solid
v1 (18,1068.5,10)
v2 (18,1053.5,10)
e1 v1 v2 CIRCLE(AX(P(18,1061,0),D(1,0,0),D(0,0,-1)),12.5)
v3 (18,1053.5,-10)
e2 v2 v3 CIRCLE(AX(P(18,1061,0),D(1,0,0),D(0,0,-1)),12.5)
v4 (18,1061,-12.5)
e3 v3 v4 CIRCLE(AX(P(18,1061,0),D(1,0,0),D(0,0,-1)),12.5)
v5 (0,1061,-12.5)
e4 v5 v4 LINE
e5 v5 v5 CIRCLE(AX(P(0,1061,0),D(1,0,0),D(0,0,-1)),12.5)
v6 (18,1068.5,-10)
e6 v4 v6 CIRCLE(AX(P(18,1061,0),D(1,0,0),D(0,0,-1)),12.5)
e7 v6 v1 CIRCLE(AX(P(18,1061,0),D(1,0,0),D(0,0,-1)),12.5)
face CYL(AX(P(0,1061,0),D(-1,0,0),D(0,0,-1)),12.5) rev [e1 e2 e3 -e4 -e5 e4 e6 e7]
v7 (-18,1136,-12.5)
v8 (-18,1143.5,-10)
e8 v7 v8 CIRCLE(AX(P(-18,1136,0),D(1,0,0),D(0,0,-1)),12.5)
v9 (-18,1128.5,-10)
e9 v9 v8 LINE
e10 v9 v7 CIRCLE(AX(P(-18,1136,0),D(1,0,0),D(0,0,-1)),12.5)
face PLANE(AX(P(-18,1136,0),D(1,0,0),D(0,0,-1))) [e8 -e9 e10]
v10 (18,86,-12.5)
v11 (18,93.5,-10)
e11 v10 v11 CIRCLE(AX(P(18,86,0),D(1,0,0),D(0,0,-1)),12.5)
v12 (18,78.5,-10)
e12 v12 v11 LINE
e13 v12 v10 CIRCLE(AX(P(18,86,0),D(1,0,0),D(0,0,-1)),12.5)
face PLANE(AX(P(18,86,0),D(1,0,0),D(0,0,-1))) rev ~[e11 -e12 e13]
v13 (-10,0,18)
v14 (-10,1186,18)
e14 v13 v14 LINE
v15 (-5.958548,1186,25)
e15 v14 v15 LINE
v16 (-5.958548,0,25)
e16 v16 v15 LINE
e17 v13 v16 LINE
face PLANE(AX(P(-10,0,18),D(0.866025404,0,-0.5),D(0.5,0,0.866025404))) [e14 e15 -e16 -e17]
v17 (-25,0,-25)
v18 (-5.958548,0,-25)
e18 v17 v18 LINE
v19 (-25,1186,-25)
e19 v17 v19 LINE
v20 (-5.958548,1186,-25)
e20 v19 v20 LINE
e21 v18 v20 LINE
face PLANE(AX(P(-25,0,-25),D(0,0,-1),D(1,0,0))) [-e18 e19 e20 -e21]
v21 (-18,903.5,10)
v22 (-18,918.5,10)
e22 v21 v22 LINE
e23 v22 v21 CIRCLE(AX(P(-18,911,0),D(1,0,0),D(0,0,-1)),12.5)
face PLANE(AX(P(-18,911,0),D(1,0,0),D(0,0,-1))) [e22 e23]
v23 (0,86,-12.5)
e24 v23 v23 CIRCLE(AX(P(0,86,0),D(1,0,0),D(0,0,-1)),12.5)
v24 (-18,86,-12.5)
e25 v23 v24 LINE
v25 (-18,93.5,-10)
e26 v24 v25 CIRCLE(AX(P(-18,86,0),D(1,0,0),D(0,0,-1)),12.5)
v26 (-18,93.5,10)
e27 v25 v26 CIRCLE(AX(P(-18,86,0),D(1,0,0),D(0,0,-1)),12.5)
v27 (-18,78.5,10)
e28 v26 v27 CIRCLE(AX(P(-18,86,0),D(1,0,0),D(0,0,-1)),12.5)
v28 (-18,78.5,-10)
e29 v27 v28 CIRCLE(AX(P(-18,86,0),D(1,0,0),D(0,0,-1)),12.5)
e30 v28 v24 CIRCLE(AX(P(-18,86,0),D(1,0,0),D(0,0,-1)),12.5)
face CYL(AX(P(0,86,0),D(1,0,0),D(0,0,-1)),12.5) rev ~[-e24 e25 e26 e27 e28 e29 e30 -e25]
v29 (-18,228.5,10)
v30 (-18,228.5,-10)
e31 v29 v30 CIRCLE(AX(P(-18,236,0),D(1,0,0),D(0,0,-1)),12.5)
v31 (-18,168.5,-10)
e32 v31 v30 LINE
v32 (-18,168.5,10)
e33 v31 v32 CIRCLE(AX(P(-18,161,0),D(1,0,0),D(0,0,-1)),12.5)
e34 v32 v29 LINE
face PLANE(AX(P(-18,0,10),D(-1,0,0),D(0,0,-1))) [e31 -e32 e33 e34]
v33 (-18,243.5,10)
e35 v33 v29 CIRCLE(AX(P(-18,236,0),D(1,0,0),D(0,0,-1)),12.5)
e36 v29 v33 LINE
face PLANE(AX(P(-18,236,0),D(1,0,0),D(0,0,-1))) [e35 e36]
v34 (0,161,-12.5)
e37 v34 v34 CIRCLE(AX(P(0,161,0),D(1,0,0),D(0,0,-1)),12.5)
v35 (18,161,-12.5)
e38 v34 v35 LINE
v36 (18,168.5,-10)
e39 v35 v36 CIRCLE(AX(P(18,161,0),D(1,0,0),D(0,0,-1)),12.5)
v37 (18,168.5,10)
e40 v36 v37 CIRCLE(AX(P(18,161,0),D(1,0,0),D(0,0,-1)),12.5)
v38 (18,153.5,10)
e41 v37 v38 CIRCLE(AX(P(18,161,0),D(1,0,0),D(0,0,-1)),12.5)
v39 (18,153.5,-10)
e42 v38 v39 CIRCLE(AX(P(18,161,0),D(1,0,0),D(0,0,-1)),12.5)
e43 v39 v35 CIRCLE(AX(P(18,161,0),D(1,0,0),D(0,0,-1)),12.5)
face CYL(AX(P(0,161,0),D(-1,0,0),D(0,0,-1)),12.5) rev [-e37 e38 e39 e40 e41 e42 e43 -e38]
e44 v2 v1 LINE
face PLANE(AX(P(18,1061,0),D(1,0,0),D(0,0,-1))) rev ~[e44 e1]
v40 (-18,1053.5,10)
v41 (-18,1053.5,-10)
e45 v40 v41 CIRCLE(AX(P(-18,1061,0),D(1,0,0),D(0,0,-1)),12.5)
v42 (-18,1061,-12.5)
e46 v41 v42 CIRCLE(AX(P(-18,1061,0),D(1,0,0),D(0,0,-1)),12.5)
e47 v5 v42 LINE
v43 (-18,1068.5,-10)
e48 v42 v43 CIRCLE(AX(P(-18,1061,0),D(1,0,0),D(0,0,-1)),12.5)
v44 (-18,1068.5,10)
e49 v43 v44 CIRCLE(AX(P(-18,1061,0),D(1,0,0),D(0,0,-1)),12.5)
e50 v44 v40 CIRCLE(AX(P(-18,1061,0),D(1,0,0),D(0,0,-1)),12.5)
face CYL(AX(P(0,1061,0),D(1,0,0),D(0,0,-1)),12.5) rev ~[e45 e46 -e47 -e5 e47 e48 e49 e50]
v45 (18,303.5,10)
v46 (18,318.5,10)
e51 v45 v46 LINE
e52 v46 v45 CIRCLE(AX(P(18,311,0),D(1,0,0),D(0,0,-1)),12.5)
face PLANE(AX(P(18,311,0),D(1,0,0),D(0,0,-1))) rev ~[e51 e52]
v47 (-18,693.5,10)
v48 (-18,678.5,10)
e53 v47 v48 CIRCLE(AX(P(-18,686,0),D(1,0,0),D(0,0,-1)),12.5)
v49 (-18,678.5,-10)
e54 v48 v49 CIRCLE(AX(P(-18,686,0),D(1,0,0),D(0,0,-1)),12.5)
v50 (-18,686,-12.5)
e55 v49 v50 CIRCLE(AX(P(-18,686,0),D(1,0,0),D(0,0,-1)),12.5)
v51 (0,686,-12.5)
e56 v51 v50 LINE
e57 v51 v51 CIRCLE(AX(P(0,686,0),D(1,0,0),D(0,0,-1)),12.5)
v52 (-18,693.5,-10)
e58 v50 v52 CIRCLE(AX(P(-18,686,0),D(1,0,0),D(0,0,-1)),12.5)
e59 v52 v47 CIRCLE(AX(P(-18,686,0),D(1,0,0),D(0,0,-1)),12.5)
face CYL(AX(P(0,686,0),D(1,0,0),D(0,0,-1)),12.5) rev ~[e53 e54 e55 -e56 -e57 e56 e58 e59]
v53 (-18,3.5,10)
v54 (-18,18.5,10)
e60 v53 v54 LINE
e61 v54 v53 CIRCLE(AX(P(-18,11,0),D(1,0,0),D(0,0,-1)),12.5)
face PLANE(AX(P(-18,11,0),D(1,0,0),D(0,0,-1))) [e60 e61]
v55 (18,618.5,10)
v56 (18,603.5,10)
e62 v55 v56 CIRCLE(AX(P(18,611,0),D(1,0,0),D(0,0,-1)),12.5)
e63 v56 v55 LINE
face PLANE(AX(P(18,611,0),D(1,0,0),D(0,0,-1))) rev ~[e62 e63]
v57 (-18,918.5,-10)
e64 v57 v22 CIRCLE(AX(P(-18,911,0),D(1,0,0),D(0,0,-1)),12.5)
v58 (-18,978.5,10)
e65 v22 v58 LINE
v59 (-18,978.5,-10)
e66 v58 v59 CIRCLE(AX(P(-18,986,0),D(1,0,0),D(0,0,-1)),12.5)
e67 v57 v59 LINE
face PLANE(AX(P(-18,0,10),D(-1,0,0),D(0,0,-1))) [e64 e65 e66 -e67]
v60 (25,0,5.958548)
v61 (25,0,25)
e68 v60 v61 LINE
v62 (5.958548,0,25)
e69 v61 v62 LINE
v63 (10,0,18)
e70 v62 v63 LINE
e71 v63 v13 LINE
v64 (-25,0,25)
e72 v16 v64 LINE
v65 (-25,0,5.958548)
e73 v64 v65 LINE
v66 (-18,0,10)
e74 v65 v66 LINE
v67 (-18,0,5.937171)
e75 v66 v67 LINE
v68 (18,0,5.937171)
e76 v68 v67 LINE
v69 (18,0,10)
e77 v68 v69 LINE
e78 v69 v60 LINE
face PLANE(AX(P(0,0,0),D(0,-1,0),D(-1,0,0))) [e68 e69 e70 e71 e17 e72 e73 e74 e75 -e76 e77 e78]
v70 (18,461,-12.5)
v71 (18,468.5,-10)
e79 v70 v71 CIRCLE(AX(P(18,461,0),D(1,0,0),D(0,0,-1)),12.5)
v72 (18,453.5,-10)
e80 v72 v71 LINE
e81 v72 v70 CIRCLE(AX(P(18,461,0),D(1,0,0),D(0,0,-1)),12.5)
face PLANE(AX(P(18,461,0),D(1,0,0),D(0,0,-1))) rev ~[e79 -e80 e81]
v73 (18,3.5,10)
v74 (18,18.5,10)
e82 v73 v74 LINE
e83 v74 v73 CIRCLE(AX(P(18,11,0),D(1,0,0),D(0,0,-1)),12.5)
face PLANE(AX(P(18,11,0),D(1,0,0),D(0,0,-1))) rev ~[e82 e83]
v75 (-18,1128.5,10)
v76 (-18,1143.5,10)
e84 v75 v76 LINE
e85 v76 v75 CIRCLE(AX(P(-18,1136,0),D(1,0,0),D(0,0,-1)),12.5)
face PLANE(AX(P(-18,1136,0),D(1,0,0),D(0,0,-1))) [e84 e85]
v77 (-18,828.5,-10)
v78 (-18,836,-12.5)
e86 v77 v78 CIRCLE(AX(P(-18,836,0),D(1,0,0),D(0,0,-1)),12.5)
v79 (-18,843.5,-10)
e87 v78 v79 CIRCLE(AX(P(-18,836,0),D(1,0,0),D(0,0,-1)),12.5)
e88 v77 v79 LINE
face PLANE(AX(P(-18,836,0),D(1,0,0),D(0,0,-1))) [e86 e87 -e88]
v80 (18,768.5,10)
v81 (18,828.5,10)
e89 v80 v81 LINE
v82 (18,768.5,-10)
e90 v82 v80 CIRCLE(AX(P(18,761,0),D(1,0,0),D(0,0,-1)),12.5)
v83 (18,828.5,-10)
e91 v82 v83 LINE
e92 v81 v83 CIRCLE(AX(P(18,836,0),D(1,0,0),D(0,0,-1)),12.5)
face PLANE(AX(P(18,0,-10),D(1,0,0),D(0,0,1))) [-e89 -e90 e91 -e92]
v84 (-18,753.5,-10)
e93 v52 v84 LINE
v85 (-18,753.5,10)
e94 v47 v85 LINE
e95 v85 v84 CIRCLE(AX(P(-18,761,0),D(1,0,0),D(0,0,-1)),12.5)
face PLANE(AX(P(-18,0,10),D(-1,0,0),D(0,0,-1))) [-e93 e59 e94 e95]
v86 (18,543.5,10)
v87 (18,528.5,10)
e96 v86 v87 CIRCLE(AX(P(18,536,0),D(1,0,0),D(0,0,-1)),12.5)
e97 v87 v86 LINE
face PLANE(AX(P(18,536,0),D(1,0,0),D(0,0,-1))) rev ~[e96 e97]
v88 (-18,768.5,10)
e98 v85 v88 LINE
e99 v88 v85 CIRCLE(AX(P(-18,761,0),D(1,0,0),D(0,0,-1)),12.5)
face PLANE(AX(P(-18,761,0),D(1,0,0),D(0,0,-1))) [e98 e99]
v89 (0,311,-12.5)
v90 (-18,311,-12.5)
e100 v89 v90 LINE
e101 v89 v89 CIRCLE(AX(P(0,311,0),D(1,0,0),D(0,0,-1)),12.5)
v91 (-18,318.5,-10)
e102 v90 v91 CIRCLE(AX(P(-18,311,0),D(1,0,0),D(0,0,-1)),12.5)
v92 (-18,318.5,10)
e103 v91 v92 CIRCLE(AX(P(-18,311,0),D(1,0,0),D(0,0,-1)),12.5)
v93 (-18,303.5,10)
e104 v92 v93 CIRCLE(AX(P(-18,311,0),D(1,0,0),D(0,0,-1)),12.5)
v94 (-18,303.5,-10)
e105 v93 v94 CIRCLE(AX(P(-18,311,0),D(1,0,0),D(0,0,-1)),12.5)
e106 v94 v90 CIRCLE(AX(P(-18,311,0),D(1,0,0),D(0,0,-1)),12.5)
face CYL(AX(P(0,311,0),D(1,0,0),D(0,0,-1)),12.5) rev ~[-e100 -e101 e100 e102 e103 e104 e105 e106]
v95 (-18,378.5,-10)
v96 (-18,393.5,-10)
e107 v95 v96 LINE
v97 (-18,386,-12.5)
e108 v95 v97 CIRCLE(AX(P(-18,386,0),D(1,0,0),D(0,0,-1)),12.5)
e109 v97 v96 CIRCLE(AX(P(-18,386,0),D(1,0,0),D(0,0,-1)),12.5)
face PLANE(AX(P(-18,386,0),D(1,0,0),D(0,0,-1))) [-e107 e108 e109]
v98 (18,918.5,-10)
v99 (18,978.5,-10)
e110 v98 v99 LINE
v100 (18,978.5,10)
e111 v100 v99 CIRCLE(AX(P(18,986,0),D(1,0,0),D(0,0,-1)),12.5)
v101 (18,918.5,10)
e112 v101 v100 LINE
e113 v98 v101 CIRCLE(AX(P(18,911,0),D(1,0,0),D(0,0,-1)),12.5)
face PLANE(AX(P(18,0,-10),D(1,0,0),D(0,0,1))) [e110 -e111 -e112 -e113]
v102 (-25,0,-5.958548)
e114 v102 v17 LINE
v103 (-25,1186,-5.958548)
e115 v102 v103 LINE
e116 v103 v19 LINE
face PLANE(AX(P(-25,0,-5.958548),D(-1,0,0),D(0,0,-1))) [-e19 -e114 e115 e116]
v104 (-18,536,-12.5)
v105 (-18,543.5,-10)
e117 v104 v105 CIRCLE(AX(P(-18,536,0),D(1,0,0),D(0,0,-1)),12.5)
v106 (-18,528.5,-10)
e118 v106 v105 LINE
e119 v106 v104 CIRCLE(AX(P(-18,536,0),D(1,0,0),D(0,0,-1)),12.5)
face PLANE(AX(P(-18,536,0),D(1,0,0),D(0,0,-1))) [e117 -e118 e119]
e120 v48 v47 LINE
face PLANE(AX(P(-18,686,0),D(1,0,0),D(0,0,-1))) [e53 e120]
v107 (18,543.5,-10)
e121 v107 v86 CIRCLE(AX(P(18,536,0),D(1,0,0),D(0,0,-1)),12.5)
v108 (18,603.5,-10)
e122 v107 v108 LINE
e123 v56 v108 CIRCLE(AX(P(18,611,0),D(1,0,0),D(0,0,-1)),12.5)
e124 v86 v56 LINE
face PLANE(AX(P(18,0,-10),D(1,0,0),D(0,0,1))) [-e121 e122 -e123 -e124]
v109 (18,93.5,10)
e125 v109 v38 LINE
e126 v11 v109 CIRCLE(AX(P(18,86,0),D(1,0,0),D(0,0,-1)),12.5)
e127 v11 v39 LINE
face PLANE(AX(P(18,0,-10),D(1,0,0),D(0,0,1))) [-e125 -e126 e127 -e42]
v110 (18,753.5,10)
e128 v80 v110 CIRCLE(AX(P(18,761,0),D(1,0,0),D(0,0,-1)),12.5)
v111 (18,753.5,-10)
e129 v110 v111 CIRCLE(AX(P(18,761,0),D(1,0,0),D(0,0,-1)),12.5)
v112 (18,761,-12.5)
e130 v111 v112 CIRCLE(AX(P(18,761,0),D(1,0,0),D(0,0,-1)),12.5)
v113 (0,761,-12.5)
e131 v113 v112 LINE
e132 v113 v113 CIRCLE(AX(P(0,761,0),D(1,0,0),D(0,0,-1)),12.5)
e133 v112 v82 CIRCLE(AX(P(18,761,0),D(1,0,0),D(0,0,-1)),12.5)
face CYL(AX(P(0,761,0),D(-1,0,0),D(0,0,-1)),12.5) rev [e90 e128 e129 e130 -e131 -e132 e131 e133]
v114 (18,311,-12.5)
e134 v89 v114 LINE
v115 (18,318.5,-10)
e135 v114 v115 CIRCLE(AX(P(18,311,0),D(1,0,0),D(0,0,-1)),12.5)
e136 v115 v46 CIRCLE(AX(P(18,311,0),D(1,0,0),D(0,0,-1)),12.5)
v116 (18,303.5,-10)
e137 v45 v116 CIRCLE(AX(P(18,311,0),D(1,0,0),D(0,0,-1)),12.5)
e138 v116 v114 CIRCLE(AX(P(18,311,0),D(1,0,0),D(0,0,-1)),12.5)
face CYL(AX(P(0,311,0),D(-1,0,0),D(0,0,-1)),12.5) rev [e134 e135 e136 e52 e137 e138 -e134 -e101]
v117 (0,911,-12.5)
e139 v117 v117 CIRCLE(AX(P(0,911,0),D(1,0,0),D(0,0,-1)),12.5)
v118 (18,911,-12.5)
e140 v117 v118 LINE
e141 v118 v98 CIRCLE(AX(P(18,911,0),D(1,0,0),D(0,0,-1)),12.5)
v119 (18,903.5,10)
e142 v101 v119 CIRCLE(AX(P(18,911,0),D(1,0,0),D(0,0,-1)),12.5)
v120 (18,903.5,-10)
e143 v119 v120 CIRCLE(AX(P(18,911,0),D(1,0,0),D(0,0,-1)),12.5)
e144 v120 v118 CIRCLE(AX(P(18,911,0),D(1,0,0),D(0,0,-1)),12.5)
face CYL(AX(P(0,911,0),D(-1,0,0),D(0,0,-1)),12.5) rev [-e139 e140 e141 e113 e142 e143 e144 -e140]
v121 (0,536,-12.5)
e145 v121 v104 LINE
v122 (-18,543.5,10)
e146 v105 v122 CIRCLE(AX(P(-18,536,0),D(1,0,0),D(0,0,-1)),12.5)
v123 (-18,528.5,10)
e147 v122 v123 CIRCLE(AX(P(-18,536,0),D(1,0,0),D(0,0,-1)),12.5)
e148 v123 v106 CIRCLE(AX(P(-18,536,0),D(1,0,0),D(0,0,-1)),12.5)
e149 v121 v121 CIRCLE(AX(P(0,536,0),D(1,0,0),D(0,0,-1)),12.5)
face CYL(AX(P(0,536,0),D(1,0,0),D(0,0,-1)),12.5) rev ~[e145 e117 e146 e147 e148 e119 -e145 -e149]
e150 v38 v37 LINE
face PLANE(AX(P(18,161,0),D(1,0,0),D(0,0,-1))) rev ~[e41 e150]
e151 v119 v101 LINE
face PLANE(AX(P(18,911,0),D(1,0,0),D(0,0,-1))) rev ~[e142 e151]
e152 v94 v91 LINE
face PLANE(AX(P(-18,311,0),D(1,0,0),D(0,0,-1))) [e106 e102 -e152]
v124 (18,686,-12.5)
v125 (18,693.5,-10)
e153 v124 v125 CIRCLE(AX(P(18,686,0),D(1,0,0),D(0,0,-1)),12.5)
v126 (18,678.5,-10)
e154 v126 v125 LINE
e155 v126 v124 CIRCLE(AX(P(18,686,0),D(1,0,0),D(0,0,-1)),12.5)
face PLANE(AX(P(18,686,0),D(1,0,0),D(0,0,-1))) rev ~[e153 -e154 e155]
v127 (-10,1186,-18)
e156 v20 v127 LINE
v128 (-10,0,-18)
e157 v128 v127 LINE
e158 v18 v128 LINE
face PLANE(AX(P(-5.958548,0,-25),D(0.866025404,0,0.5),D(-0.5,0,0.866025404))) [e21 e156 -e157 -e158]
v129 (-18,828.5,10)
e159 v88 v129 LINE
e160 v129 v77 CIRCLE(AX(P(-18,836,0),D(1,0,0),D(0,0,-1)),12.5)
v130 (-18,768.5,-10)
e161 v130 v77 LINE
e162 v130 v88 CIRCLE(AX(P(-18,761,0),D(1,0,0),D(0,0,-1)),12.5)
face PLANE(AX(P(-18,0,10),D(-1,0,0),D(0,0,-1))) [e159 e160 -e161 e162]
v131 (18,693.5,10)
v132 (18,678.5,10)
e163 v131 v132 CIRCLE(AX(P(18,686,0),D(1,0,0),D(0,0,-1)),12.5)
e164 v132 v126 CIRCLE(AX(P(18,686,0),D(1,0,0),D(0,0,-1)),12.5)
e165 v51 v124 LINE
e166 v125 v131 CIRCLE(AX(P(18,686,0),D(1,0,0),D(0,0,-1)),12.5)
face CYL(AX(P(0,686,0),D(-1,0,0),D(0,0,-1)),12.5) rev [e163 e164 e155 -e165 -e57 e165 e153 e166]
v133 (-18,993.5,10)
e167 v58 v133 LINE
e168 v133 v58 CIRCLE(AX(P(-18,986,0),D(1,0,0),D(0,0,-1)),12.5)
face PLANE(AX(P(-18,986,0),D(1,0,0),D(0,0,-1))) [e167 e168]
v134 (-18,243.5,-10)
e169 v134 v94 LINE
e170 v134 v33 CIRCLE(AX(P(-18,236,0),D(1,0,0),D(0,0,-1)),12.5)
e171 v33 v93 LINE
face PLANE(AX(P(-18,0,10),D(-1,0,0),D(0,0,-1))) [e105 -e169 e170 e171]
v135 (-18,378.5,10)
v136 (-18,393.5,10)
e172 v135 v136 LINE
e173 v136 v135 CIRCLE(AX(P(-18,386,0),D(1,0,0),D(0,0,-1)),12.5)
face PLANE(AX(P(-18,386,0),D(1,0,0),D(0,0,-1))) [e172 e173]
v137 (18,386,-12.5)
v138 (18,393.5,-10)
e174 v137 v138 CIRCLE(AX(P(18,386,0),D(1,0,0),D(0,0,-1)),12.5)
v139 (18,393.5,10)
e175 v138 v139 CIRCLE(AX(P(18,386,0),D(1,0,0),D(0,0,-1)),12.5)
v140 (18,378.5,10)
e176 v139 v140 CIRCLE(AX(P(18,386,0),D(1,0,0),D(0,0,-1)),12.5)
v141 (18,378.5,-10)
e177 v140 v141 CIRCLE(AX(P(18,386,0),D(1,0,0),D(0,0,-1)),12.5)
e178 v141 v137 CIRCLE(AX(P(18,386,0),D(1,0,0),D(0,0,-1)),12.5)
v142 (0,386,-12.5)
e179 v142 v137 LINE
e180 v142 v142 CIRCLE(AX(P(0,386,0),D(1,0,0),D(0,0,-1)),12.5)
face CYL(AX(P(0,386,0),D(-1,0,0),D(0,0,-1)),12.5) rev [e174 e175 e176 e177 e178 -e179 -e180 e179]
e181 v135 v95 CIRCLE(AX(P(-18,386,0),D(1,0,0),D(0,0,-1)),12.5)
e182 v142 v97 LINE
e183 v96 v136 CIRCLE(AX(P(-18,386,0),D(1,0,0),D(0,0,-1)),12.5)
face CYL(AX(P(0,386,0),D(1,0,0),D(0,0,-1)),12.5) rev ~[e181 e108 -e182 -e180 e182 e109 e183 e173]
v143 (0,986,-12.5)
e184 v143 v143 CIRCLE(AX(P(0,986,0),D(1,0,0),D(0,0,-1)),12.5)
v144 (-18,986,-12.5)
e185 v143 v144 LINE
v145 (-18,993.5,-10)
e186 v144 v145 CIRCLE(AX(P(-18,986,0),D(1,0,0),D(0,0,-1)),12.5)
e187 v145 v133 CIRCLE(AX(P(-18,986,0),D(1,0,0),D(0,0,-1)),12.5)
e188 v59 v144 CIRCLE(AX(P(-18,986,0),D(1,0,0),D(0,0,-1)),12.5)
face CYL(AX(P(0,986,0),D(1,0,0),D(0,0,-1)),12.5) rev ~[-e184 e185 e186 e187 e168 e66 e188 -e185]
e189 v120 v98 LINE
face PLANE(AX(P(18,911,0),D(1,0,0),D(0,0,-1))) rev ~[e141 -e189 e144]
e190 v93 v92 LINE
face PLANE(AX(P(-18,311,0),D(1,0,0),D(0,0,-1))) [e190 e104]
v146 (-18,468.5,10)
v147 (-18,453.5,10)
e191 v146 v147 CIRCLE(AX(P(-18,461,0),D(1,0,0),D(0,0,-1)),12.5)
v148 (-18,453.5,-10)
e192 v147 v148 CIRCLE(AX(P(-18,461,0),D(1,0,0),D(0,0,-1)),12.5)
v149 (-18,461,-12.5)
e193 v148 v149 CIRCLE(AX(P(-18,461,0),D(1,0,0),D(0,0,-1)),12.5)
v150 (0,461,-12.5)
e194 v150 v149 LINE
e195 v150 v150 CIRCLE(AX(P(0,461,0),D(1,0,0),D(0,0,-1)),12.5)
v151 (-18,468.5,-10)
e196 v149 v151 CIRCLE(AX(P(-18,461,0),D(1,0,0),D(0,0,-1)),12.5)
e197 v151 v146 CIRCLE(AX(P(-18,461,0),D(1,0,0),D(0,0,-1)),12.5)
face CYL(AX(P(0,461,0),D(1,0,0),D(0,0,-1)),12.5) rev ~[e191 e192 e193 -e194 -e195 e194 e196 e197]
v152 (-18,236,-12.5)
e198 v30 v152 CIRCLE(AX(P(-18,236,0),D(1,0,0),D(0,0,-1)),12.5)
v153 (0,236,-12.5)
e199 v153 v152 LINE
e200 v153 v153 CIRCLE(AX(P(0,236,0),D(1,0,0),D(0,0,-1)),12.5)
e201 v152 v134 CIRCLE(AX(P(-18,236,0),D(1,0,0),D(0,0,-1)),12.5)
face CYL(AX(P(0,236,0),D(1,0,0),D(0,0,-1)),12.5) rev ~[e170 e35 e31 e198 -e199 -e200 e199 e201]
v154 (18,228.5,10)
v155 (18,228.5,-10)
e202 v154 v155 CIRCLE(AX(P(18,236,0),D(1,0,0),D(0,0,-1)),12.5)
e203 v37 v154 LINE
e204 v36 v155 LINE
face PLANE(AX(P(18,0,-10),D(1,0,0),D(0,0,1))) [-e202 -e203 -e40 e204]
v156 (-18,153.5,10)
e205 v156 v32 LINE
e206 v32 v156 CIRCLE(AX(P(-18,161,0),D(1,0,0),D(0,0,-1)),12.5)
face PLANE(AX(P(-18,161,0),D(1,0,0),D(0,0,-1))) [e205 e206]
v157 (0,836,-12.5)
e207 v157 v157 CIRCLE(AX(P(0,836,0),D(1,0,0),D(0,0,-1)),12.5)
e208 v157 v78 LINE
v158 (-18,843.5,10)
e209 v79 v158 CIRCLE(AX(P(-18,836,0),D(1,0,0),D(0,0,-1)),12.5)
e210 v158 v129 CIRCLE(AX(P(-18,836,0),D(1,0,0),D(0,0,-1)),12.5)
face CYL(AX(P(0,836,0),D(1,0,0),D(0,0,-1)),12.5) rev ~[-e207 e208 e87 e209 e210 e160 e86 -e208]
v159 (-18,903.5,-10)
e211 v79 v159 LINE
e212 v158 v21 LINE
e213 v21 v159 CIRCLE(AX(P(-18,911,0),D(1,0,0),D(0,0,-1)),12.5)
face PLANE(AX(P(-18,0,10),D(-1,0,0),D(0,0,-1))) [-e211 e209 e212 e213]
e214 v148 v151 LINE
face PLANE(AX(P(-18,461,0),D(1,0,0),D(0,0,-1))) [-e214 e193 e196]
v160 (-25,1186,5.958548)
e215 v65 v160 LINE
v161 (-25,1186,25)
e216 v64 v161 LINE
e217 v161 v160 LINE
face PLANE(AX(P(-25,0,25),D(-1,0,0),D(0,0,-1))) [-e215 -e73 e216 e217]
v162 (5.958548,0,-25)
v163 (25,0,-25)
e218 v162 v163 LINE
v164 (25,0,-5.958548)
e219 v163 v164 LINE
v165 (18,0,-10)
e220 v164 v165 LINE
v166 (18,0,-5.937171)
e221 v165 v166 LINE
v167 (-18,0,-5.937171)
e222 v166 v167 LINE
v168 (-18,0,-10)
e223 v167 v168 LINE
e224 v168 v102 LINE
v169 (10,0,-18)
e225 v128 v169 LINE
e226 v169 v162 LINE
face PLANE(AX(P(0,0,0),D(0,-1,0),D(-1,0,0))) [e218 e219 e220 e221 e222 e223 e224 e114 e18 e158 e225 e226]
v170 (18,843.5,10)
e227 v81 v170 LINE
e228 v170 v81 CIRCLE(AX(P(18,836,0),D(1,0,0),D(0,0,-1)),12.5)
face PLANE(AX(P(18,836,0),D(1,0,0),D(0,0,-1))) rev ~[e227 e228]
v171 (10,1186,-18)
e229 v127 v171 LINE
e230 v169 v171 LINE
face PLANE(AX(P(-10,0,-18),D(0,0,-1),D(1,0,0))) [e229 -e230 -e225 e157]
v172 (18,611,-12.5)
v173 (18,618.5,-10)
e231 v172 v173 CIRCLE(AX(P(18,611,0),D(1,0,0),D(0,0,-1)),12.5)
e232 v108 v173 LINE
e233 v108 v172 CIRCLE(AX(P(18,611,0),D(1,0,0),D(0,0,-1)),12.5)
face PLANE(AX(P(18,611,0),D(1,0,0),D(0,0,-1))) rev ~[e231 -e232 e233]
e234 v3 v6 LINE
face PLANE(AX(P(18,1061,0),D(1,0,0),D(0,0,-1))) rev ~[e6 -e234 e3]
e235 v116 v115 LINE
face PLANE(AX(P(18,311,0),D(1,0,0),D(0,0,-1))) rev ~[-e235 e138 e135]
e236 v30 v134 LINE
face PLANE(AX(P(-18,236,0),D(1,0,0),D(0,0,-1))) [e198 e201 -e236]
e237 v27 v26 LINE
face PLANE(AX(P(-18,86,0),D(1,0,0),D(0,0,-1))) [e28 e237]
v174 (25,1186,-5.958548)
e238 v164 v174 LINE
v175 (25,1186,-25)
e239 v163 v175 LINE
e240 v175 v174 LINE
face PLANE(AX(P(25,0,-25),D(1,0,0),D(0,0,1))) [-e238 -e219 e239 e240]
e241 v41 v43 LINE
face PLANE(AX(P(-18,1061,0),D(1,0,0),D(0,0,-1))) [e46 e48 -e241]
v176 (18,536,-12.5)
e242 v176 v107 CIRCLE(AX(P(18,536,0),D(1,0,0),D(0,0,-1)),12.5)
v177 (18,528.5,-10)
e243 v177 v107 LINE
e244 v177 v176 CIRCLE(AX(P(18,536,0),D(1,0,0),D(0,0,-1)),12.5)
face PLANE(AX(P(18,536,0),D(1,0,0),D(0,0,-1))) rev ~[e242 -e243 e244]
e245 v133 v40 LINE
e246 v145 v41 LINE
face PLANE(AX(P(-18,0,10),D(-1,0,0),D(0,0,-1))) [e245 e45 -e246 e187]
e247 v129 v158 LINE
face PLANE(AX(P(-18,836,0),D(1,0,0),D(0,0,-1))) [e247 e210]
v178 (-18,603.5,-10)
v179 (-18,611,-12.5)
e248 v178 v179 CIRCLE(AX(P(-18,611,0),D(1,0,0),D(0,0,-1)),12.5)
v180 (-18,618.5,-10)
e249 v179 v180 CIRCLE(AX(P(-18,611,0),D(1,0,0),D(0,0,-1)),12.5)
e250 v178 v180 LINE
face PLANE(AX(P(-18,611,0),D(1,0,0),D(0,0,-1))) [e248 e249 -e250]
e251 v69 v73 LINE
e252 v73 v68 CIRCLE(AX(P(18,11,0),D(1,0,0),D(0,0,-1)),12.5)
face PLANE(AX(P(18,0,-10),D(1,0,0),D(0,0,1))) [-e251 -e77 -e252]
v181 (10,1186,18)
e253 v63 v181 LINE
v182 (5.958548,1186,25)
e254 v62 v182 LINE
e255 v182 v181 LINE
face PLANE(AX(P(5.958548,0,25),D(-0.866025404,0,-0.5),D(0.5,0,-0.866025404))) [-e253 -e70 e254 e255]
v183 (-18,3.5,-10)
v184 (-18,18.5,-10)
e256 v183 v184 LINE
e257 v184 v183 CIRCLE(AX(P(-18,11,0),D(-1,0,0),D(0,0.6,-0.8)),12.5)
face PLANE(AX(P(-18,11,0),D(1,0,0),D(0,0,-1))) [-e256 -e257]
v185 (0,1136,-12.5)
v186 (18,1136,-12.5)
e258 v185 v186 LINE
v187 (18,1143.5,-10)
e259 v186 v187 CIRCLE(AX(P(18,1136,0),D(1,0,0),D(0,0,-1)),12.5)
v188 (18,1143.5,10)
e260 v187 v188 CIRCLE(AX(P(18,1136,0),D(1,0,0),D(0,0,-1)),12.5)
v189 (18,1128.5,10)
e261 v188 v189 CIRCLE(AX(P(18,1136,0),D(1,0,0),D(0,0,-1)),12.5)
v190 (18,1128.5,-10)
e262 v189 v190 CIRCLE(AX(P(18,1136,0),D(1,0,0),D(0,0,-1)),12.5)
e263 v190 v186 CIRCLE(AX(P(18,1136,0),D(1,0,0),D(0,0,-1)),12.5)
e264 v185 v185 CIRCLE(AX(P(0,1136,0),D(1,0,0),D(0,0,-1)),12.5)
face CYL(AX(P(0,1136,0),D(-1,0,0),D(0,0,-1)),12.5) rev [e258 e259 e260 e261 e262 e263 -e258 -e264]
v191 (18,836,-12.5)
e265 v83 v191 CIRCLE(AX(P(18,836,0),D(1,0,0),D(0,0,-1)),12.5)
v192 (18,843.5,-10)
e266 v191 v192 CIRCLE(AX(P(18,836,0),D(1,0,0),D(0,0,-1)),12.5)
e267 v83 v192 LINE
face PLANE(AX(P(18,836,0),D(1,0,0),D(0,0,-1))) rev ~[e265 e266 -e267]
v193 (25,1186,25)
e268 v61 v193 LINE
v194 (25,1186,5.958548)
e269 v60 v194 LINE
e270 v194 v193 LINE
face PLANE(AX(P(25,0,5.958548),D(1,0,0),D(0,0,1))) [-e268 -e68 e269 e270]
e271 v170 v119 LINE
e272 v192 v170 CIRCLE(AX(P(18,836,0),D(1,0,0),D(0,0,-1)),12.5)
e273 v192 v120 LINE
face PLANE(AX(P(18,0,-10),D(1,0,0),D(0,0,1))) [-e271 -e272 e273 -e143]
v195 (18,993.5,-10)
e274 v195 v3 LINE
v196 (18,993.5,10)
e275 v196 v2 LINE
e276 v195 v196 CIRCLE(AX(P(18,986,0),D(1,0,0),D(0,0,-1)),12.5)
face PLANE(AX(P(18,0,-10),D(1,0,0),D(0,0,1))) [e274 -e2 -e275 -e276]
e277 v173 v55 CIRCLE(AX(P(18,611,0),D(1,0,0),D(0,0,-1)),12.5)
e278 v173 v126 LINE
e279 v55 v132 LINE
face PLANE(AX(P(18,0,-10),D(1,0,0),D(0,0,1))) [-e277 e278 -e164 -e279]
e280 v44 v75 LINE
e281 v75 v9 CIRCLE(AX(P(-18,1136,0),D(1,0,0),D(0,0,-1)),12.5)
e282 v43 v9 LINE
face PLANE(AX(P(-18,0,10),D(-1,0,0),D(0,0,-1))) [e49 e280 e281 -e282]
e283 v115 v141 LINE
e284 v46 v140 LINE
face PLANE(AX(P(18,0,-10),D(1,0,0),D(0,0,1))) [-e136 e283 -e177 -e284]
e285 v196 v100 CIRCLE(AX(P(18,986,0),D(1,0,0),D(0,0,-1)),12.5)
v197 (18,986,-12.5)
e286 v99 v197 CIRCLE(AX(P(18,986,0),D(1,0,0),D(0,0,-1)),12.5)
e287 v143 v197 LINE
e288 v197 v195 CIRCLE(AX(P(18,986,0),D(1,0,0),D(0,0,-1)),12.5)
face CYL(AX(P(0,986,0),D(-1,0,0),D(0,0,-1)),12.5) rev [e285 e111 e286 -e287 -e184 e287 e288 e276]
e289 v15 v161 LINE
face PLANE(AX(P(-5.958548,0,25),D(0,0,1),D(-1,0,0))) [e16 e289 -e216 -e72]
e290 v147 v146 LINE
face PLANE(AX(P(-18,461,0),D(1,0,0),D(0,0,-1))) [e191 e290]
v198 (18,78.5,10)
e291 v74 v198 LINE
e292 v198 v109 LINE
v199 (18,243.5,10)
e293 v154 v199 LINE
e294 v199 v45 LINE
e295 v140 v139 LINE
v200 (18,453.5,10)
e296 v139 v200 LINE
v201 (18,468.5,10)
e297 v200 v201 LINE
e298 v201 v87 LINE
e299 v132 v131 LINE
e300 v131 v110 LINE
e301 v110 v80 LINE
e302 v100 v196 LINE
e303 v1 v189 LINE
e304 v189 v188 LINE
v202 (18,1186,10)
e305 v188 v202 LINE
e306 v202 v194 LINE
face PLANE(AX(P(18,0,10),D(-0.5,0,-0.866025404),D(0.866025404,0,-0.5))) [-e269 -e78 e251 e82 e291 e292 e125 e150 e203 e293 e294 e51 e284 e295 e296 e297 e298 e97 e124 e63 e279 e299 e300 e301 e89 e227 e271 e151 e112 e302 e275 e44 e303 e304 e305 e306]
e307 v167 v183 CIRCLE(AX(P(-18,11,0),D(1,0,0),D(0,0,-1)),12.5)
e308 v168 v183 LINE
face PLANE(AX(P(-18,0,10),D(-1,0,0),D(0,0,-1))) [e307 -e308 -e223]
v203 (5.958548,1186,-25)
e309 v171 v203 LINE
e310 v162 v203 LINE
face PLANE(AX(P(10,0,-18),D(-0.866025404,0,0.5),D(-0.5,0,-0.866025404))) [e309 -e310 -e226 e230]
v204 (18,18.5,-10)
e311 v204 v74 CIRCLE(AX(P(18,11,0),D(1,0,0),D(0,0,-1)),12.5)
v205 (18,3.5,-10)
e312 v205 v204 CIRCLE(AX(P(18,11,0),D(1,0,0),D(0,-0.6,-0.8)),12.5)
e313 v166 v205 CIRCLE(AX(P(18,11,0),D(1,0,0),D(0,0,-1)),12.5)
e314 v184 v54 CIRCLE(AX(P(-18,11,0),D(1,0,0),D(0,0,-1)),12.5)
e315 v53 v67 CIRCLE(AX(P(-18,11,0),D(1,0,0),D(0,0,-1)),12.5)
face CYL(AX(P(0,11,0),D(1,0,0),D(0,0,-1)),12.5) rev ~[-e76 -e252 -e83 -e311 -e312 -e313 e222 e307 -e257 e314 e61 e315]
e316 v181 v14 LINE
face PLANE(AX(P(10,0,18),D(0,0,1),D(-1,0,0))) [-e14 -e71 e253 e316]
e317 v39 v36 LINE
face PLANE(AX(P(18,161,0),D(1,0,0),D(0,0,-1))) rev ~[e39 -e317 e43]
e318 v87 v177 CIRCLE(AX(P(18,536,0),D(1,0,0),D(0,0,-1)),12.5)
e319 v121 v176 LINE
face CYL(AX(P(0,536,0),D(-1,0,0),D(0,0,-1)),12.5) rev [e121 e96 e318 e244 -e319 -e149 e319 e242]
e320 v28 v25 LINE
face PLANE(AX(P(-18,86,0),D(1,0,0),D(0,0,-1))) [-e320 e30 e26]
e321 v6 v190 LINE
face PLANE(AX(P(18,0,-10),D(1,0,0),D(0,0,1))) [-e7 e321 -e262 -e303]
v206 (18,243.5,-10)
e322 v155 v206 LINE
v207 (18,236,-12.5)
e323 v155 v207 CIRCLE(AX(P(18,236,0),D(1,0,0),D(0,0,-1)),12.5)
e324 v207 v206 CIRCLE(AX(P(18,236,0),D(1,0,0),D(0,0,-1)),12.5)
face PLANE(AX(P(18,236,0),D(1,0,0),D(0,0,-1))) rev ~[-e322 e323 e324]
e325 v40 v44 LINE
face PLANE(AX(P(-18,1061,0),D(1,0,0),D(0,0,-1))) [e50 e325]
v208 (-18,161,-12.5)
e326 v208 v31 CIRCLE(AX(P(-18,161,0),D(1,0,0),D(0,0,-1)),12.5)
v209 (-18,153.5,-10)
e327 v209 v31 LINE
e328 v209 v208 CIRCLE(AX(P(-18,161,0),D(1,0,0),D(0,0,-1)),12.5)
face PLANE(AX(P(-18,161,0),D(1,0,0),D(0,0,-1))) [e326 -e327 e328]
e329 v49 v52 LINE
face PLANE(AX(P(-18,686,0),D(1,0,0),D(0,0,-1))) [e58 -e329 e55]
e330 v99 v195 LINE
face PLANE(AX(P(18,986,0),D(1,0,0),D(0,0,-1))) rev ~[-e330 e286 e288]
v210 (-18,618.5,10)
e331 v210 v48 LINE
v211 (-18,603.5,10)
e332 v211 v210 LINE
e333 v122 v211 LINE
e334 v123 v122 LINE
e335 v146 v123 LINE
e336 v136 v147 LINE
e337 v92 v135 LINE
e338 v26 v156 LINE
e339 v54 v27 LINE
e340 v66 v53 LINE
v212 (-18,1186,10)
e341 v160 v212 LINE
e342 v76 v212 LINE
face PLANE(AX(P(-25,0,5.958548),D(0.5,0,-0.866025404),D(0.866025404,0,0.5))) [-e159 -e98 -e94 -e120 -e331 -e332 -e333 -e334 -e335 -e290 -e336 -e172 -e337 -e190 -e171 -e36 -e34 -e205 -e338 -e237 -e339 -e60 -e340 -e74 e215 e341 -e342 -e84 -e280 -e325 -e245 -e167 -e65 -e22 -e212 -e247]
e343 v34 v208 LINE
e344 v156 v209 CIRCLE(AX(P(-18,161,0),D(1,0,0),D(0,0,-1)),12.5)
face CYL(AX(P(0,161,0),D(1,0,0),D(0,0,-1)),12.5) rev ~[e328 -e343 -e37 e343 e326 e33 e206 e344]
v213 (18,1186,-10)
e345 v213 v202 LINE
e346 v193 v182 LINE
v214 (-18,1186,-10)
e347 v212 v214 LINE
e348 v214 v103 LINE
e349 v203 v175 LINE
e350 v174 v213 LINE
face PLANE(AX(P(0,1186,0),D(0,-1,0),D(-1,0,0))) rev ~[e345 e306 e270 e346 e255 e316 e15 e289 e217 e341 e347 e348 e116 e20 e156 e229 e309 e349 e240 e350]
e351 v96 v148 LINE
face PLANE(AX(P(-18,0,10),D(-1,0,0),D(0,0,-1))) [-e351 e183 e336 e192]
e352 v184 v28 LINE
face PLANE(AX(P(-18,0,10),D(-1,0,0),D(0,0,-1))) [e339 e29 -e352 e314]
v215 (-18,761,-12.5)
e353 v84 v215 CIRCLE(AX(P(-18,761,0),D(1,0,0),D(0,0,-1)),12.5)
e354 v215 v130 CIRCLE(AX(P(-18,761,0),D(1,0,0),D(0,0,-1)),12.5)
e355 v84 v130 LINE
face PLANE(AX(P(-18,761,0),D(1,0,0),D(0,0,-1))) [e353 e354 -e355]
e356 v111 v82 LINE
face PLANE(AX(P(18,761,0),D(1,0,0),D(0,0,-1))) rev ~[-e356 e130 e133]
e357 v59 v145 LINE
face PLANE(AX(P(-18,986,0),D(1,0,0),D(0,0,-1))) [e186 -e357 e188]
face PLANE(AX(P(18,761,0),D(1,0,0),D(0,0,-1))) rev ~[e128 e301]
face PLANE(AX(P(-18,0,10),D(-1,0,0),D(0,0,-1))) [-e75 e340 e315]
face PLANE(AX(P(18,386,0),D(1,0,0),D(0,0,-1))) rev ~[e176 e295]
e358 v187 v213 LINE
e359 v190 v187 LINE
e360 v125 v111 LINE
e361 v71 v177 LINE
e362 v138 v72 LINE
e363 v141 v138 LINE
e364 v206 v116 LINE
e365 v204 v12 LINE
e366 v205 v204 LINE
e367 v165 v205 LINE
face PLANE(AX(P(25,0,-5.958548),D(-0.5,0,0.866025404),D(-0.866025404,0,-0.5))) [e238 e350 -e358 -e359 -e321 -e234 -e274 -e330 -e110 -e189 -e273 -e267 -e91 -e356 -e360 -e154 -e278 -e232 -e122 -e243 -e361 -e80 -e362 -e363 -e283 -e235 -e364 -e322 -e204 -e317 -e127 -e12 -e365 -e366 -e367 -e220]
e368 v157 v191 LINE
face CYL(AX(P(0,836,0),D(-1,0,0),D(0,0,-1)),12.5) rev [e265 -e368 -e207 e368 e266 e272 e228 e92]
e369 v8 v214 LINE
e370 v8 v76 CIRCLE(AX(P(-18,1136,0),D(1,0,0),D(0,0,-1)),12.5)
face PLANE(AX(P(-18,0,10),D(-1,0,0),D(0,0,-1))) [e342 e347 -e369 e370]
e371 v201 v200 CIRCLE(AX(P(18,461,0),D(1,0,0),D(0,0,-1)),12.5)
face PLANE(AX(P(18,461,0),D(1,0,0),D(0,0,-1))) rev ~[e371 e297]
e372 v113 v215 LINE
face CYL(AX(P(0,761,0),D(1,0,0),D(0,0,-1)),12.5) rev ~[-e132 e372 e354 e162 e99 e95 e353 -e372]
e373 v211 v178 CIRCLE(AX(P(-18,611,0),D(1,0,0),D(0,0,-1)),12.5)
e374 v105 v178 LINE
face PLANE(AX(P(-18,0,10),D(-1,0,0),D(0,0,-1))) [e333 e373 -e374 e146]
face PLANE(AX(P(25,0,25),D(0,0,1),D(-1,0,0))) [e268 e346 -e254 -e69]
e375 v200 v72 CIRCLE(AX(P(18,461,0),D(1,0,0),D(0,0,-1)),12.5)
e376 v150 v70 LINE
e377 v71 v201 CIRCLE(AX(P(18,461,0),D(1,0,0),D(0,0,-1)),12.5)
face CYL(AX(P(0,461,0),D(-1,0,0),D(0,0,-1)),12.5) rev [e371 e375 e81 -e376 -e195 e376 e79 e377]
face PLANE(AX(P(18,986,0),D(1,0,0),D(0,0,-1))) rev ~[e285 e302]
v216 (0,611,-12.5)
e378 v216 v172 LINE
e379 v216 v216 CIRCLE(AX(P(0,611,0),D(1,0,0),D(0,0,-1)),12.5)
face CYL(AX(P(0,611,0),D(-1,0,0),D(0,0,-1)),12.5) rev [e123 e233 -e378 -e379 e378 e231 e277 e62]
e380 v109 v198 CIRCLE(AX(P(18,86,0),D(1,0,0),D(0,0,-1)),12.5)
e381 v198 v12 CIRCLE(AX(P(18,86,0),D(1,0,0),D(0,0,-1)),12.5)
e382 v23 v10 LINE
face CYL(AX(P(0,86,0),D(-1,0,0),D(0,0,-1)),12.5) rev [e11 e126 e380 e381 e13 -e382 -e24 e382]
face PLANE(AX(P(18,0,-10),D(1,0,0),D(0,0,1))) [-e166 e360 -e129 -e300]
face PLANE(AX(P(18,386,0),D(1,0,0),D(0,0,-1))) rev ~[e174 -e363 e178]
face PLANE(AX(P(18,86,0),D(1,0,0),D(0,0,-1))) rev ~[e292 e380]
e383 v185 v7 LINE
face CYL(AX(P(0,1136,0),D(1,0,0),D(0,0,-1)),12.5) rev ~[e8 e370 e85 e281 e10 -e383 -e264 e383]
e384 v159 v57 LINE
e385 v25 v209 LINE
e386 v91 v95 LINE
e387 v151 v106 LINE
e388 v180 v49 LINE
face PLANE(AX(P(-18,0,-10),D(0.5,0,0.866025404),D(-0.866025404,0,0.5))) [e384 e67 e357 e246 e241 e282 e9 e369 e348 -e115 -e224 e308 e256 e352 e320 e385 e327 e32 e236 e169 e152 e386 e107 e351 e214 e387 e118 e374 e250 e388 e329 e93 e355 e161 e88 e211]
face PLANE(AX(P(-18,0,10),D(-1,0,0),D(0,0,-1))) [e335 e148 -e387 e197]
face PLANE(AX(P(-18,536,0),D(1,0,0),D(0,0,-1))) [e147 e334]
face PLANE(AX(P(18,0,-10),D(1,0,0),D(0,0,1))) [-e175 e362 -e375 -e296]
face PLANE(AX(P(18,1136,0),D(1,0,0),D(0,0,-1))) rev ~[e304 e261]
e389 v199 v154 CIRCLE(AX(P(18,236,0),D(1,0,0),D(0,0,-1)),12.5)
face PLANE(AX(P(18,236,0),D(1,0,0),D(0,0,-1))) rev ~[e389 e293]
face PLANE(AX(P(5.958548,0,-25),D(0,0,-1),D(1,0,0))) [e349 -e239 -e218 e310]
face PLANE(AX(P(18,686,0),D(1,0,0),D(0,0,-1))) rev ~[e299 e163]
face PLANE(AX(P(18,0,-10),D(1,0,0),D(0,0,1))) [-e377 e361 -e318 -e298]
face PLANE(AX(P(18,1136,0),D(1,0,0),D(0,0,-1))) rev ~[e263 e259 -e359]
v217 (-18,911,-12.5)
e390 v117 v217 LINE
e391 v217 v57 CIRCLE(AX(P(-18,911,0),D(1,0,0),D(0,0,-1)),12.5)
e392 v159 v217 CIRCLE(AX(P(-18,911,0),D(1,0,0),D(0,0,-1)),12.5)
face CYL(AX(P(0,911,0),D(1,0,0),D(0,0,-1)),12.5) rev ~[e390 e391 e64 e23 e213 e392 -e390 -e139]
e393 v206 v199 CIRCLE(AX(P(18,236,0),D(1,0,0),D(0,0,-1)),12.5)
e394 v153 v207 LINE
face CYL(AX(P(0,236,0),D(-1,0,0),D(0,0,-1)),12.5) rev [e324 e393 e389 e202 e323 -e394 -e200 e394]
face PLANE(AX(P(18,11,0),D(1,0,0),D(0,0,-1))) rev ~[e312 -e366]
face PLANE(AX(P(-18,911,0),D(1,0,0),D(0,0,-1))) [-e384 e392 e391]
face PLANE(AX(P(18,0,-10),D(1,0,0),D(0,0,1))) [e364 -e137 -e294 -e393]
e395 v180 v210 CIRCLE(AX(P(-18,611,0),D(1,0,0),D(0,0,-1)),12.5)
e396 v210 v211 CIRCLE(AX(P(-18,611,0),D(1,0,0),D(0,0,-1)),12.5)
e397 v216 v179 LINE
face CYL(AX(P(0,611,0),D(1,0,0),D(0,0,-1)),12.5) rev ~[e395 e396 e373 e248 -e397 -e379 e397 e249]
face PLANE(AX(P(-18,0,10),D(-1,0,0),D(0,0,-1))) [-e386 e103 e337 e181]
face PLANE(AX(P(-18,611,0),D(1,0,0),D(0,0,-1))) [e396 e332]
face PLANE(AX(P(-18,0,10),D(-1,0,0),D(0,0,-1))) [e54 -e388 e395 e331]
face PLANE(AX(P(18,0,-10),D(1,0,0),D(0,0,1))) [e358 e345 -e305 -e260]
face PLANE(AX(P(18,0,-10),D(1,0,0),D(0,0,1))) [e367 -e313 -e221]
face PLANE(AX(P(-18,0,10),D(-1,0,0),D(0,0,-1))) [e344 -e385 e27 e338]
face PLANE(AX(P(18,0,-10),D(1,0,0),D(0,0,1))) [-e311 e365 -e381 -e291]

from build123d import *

# Parameters (mm, degrees)
BOSS_EXTRUDE1_DEPTH     = 1186
SKETCH3_R               = 12.5
CUT_EXTRUDE1_DEPTH      = 18
CUT_EXTRUDE1_DEPTH_BACK = 18


with BuildPart() as part:
    # Sketch1 → Boss-Extrude1 (new body)
    with BuildSketch(Plane(origin=(0, 0, 0), x_dir=(1, 0, 0), z_dir=(0, 1, 0))):
        Polygon((-25, 25), (-5.958548116, 25), (-10, 18), (10, 18), (5.958548116, 25), (25, 25), (25, 5.958548116), (18, 10), (18, -10), (25, -5.958548116), (25, -25), (5.958548116, -25), (10, -18), (-10, -18), (-5.958548116, -25), (-25, -25), (-25, -5.958548116), (-18, -10), (-18, 10), (-25, 5.958548116), align=None)
    extrude(amount=BOSS_EXTRUDE1_DEPTH)

    # Sketch3 → Cut-Extrude1 (cut, two sides)
    with BuildSketch(Plane(origin=(0, 0, 0), x_dir=(0, 0, -1), z_dir=(1, 0, 0))) as cut_extrude1_sk:
        with Locations((0, 1136)):
            Circle(SKETCH3_R)
        with Locations((0, 1061)):
            Circle(SKETCH3_R)
        with Locations((0, 986)):
            Circle(SKETCH3_R)
        with Locations((0, 911)):
            Circle(SKETCH3_R)
        with Locations((0, 836)):
            Circle(SKETCH3_R)
        with Locations((0, 761)):
            Circle(SKETCH3_R)
        with Locations((0, 686)):
            Circle(SKETCH3_R)
        with Locations((0, 611)):
            Circle(SKETCH3_R)
        with Locations((0, 536)):
            Circle(SKETCH3_R)
        with Locations((0, 461)):
            Circle(SKETCH3_R)
        with Locations((0, 386)):
            Circle(SKETCH3_R)
        with Locations((0, 311)):
            Circle(SKETCH3_R)
        with Locations((0, 236)):
            Circle(SKETCH3_R)
        with Locations((0, 161)):
            Circle(SKETCH3_R)
        with Locations((0, 86)):
            Circle(SKETCH3_R)
        with Locations((0, 11)):
            Circle(SKETCH3_R)
        with Locations((0, -64)):
            Circle(SKETCH3_R)
        with Locations((0, -139)):
            Circle(SKETCH3_R)
        with Locations((0, -214)):
            Circle(SKETCH3_R)
        with Locations((0, -289)):
            Circle(SKETCH3_R)
        with Locations((0, -364)):
            Circle(SKETCH3_R)
        with Locations((0, -439)):
            Circle(SKETCH3_R)
        with Locations((0, -514)):
            Circle(SKETCH3_R)
    extrude(amount=CUT_EXTRUDE1_DEPTH, mode=Mode.SUBTRACT)
    extrude(cut_extrude1_sk.sketch, amount=-CUT_EXTRUDE1_DEPTH_BACK, mode=Mode.SUBTRACT)


solid = part.part
